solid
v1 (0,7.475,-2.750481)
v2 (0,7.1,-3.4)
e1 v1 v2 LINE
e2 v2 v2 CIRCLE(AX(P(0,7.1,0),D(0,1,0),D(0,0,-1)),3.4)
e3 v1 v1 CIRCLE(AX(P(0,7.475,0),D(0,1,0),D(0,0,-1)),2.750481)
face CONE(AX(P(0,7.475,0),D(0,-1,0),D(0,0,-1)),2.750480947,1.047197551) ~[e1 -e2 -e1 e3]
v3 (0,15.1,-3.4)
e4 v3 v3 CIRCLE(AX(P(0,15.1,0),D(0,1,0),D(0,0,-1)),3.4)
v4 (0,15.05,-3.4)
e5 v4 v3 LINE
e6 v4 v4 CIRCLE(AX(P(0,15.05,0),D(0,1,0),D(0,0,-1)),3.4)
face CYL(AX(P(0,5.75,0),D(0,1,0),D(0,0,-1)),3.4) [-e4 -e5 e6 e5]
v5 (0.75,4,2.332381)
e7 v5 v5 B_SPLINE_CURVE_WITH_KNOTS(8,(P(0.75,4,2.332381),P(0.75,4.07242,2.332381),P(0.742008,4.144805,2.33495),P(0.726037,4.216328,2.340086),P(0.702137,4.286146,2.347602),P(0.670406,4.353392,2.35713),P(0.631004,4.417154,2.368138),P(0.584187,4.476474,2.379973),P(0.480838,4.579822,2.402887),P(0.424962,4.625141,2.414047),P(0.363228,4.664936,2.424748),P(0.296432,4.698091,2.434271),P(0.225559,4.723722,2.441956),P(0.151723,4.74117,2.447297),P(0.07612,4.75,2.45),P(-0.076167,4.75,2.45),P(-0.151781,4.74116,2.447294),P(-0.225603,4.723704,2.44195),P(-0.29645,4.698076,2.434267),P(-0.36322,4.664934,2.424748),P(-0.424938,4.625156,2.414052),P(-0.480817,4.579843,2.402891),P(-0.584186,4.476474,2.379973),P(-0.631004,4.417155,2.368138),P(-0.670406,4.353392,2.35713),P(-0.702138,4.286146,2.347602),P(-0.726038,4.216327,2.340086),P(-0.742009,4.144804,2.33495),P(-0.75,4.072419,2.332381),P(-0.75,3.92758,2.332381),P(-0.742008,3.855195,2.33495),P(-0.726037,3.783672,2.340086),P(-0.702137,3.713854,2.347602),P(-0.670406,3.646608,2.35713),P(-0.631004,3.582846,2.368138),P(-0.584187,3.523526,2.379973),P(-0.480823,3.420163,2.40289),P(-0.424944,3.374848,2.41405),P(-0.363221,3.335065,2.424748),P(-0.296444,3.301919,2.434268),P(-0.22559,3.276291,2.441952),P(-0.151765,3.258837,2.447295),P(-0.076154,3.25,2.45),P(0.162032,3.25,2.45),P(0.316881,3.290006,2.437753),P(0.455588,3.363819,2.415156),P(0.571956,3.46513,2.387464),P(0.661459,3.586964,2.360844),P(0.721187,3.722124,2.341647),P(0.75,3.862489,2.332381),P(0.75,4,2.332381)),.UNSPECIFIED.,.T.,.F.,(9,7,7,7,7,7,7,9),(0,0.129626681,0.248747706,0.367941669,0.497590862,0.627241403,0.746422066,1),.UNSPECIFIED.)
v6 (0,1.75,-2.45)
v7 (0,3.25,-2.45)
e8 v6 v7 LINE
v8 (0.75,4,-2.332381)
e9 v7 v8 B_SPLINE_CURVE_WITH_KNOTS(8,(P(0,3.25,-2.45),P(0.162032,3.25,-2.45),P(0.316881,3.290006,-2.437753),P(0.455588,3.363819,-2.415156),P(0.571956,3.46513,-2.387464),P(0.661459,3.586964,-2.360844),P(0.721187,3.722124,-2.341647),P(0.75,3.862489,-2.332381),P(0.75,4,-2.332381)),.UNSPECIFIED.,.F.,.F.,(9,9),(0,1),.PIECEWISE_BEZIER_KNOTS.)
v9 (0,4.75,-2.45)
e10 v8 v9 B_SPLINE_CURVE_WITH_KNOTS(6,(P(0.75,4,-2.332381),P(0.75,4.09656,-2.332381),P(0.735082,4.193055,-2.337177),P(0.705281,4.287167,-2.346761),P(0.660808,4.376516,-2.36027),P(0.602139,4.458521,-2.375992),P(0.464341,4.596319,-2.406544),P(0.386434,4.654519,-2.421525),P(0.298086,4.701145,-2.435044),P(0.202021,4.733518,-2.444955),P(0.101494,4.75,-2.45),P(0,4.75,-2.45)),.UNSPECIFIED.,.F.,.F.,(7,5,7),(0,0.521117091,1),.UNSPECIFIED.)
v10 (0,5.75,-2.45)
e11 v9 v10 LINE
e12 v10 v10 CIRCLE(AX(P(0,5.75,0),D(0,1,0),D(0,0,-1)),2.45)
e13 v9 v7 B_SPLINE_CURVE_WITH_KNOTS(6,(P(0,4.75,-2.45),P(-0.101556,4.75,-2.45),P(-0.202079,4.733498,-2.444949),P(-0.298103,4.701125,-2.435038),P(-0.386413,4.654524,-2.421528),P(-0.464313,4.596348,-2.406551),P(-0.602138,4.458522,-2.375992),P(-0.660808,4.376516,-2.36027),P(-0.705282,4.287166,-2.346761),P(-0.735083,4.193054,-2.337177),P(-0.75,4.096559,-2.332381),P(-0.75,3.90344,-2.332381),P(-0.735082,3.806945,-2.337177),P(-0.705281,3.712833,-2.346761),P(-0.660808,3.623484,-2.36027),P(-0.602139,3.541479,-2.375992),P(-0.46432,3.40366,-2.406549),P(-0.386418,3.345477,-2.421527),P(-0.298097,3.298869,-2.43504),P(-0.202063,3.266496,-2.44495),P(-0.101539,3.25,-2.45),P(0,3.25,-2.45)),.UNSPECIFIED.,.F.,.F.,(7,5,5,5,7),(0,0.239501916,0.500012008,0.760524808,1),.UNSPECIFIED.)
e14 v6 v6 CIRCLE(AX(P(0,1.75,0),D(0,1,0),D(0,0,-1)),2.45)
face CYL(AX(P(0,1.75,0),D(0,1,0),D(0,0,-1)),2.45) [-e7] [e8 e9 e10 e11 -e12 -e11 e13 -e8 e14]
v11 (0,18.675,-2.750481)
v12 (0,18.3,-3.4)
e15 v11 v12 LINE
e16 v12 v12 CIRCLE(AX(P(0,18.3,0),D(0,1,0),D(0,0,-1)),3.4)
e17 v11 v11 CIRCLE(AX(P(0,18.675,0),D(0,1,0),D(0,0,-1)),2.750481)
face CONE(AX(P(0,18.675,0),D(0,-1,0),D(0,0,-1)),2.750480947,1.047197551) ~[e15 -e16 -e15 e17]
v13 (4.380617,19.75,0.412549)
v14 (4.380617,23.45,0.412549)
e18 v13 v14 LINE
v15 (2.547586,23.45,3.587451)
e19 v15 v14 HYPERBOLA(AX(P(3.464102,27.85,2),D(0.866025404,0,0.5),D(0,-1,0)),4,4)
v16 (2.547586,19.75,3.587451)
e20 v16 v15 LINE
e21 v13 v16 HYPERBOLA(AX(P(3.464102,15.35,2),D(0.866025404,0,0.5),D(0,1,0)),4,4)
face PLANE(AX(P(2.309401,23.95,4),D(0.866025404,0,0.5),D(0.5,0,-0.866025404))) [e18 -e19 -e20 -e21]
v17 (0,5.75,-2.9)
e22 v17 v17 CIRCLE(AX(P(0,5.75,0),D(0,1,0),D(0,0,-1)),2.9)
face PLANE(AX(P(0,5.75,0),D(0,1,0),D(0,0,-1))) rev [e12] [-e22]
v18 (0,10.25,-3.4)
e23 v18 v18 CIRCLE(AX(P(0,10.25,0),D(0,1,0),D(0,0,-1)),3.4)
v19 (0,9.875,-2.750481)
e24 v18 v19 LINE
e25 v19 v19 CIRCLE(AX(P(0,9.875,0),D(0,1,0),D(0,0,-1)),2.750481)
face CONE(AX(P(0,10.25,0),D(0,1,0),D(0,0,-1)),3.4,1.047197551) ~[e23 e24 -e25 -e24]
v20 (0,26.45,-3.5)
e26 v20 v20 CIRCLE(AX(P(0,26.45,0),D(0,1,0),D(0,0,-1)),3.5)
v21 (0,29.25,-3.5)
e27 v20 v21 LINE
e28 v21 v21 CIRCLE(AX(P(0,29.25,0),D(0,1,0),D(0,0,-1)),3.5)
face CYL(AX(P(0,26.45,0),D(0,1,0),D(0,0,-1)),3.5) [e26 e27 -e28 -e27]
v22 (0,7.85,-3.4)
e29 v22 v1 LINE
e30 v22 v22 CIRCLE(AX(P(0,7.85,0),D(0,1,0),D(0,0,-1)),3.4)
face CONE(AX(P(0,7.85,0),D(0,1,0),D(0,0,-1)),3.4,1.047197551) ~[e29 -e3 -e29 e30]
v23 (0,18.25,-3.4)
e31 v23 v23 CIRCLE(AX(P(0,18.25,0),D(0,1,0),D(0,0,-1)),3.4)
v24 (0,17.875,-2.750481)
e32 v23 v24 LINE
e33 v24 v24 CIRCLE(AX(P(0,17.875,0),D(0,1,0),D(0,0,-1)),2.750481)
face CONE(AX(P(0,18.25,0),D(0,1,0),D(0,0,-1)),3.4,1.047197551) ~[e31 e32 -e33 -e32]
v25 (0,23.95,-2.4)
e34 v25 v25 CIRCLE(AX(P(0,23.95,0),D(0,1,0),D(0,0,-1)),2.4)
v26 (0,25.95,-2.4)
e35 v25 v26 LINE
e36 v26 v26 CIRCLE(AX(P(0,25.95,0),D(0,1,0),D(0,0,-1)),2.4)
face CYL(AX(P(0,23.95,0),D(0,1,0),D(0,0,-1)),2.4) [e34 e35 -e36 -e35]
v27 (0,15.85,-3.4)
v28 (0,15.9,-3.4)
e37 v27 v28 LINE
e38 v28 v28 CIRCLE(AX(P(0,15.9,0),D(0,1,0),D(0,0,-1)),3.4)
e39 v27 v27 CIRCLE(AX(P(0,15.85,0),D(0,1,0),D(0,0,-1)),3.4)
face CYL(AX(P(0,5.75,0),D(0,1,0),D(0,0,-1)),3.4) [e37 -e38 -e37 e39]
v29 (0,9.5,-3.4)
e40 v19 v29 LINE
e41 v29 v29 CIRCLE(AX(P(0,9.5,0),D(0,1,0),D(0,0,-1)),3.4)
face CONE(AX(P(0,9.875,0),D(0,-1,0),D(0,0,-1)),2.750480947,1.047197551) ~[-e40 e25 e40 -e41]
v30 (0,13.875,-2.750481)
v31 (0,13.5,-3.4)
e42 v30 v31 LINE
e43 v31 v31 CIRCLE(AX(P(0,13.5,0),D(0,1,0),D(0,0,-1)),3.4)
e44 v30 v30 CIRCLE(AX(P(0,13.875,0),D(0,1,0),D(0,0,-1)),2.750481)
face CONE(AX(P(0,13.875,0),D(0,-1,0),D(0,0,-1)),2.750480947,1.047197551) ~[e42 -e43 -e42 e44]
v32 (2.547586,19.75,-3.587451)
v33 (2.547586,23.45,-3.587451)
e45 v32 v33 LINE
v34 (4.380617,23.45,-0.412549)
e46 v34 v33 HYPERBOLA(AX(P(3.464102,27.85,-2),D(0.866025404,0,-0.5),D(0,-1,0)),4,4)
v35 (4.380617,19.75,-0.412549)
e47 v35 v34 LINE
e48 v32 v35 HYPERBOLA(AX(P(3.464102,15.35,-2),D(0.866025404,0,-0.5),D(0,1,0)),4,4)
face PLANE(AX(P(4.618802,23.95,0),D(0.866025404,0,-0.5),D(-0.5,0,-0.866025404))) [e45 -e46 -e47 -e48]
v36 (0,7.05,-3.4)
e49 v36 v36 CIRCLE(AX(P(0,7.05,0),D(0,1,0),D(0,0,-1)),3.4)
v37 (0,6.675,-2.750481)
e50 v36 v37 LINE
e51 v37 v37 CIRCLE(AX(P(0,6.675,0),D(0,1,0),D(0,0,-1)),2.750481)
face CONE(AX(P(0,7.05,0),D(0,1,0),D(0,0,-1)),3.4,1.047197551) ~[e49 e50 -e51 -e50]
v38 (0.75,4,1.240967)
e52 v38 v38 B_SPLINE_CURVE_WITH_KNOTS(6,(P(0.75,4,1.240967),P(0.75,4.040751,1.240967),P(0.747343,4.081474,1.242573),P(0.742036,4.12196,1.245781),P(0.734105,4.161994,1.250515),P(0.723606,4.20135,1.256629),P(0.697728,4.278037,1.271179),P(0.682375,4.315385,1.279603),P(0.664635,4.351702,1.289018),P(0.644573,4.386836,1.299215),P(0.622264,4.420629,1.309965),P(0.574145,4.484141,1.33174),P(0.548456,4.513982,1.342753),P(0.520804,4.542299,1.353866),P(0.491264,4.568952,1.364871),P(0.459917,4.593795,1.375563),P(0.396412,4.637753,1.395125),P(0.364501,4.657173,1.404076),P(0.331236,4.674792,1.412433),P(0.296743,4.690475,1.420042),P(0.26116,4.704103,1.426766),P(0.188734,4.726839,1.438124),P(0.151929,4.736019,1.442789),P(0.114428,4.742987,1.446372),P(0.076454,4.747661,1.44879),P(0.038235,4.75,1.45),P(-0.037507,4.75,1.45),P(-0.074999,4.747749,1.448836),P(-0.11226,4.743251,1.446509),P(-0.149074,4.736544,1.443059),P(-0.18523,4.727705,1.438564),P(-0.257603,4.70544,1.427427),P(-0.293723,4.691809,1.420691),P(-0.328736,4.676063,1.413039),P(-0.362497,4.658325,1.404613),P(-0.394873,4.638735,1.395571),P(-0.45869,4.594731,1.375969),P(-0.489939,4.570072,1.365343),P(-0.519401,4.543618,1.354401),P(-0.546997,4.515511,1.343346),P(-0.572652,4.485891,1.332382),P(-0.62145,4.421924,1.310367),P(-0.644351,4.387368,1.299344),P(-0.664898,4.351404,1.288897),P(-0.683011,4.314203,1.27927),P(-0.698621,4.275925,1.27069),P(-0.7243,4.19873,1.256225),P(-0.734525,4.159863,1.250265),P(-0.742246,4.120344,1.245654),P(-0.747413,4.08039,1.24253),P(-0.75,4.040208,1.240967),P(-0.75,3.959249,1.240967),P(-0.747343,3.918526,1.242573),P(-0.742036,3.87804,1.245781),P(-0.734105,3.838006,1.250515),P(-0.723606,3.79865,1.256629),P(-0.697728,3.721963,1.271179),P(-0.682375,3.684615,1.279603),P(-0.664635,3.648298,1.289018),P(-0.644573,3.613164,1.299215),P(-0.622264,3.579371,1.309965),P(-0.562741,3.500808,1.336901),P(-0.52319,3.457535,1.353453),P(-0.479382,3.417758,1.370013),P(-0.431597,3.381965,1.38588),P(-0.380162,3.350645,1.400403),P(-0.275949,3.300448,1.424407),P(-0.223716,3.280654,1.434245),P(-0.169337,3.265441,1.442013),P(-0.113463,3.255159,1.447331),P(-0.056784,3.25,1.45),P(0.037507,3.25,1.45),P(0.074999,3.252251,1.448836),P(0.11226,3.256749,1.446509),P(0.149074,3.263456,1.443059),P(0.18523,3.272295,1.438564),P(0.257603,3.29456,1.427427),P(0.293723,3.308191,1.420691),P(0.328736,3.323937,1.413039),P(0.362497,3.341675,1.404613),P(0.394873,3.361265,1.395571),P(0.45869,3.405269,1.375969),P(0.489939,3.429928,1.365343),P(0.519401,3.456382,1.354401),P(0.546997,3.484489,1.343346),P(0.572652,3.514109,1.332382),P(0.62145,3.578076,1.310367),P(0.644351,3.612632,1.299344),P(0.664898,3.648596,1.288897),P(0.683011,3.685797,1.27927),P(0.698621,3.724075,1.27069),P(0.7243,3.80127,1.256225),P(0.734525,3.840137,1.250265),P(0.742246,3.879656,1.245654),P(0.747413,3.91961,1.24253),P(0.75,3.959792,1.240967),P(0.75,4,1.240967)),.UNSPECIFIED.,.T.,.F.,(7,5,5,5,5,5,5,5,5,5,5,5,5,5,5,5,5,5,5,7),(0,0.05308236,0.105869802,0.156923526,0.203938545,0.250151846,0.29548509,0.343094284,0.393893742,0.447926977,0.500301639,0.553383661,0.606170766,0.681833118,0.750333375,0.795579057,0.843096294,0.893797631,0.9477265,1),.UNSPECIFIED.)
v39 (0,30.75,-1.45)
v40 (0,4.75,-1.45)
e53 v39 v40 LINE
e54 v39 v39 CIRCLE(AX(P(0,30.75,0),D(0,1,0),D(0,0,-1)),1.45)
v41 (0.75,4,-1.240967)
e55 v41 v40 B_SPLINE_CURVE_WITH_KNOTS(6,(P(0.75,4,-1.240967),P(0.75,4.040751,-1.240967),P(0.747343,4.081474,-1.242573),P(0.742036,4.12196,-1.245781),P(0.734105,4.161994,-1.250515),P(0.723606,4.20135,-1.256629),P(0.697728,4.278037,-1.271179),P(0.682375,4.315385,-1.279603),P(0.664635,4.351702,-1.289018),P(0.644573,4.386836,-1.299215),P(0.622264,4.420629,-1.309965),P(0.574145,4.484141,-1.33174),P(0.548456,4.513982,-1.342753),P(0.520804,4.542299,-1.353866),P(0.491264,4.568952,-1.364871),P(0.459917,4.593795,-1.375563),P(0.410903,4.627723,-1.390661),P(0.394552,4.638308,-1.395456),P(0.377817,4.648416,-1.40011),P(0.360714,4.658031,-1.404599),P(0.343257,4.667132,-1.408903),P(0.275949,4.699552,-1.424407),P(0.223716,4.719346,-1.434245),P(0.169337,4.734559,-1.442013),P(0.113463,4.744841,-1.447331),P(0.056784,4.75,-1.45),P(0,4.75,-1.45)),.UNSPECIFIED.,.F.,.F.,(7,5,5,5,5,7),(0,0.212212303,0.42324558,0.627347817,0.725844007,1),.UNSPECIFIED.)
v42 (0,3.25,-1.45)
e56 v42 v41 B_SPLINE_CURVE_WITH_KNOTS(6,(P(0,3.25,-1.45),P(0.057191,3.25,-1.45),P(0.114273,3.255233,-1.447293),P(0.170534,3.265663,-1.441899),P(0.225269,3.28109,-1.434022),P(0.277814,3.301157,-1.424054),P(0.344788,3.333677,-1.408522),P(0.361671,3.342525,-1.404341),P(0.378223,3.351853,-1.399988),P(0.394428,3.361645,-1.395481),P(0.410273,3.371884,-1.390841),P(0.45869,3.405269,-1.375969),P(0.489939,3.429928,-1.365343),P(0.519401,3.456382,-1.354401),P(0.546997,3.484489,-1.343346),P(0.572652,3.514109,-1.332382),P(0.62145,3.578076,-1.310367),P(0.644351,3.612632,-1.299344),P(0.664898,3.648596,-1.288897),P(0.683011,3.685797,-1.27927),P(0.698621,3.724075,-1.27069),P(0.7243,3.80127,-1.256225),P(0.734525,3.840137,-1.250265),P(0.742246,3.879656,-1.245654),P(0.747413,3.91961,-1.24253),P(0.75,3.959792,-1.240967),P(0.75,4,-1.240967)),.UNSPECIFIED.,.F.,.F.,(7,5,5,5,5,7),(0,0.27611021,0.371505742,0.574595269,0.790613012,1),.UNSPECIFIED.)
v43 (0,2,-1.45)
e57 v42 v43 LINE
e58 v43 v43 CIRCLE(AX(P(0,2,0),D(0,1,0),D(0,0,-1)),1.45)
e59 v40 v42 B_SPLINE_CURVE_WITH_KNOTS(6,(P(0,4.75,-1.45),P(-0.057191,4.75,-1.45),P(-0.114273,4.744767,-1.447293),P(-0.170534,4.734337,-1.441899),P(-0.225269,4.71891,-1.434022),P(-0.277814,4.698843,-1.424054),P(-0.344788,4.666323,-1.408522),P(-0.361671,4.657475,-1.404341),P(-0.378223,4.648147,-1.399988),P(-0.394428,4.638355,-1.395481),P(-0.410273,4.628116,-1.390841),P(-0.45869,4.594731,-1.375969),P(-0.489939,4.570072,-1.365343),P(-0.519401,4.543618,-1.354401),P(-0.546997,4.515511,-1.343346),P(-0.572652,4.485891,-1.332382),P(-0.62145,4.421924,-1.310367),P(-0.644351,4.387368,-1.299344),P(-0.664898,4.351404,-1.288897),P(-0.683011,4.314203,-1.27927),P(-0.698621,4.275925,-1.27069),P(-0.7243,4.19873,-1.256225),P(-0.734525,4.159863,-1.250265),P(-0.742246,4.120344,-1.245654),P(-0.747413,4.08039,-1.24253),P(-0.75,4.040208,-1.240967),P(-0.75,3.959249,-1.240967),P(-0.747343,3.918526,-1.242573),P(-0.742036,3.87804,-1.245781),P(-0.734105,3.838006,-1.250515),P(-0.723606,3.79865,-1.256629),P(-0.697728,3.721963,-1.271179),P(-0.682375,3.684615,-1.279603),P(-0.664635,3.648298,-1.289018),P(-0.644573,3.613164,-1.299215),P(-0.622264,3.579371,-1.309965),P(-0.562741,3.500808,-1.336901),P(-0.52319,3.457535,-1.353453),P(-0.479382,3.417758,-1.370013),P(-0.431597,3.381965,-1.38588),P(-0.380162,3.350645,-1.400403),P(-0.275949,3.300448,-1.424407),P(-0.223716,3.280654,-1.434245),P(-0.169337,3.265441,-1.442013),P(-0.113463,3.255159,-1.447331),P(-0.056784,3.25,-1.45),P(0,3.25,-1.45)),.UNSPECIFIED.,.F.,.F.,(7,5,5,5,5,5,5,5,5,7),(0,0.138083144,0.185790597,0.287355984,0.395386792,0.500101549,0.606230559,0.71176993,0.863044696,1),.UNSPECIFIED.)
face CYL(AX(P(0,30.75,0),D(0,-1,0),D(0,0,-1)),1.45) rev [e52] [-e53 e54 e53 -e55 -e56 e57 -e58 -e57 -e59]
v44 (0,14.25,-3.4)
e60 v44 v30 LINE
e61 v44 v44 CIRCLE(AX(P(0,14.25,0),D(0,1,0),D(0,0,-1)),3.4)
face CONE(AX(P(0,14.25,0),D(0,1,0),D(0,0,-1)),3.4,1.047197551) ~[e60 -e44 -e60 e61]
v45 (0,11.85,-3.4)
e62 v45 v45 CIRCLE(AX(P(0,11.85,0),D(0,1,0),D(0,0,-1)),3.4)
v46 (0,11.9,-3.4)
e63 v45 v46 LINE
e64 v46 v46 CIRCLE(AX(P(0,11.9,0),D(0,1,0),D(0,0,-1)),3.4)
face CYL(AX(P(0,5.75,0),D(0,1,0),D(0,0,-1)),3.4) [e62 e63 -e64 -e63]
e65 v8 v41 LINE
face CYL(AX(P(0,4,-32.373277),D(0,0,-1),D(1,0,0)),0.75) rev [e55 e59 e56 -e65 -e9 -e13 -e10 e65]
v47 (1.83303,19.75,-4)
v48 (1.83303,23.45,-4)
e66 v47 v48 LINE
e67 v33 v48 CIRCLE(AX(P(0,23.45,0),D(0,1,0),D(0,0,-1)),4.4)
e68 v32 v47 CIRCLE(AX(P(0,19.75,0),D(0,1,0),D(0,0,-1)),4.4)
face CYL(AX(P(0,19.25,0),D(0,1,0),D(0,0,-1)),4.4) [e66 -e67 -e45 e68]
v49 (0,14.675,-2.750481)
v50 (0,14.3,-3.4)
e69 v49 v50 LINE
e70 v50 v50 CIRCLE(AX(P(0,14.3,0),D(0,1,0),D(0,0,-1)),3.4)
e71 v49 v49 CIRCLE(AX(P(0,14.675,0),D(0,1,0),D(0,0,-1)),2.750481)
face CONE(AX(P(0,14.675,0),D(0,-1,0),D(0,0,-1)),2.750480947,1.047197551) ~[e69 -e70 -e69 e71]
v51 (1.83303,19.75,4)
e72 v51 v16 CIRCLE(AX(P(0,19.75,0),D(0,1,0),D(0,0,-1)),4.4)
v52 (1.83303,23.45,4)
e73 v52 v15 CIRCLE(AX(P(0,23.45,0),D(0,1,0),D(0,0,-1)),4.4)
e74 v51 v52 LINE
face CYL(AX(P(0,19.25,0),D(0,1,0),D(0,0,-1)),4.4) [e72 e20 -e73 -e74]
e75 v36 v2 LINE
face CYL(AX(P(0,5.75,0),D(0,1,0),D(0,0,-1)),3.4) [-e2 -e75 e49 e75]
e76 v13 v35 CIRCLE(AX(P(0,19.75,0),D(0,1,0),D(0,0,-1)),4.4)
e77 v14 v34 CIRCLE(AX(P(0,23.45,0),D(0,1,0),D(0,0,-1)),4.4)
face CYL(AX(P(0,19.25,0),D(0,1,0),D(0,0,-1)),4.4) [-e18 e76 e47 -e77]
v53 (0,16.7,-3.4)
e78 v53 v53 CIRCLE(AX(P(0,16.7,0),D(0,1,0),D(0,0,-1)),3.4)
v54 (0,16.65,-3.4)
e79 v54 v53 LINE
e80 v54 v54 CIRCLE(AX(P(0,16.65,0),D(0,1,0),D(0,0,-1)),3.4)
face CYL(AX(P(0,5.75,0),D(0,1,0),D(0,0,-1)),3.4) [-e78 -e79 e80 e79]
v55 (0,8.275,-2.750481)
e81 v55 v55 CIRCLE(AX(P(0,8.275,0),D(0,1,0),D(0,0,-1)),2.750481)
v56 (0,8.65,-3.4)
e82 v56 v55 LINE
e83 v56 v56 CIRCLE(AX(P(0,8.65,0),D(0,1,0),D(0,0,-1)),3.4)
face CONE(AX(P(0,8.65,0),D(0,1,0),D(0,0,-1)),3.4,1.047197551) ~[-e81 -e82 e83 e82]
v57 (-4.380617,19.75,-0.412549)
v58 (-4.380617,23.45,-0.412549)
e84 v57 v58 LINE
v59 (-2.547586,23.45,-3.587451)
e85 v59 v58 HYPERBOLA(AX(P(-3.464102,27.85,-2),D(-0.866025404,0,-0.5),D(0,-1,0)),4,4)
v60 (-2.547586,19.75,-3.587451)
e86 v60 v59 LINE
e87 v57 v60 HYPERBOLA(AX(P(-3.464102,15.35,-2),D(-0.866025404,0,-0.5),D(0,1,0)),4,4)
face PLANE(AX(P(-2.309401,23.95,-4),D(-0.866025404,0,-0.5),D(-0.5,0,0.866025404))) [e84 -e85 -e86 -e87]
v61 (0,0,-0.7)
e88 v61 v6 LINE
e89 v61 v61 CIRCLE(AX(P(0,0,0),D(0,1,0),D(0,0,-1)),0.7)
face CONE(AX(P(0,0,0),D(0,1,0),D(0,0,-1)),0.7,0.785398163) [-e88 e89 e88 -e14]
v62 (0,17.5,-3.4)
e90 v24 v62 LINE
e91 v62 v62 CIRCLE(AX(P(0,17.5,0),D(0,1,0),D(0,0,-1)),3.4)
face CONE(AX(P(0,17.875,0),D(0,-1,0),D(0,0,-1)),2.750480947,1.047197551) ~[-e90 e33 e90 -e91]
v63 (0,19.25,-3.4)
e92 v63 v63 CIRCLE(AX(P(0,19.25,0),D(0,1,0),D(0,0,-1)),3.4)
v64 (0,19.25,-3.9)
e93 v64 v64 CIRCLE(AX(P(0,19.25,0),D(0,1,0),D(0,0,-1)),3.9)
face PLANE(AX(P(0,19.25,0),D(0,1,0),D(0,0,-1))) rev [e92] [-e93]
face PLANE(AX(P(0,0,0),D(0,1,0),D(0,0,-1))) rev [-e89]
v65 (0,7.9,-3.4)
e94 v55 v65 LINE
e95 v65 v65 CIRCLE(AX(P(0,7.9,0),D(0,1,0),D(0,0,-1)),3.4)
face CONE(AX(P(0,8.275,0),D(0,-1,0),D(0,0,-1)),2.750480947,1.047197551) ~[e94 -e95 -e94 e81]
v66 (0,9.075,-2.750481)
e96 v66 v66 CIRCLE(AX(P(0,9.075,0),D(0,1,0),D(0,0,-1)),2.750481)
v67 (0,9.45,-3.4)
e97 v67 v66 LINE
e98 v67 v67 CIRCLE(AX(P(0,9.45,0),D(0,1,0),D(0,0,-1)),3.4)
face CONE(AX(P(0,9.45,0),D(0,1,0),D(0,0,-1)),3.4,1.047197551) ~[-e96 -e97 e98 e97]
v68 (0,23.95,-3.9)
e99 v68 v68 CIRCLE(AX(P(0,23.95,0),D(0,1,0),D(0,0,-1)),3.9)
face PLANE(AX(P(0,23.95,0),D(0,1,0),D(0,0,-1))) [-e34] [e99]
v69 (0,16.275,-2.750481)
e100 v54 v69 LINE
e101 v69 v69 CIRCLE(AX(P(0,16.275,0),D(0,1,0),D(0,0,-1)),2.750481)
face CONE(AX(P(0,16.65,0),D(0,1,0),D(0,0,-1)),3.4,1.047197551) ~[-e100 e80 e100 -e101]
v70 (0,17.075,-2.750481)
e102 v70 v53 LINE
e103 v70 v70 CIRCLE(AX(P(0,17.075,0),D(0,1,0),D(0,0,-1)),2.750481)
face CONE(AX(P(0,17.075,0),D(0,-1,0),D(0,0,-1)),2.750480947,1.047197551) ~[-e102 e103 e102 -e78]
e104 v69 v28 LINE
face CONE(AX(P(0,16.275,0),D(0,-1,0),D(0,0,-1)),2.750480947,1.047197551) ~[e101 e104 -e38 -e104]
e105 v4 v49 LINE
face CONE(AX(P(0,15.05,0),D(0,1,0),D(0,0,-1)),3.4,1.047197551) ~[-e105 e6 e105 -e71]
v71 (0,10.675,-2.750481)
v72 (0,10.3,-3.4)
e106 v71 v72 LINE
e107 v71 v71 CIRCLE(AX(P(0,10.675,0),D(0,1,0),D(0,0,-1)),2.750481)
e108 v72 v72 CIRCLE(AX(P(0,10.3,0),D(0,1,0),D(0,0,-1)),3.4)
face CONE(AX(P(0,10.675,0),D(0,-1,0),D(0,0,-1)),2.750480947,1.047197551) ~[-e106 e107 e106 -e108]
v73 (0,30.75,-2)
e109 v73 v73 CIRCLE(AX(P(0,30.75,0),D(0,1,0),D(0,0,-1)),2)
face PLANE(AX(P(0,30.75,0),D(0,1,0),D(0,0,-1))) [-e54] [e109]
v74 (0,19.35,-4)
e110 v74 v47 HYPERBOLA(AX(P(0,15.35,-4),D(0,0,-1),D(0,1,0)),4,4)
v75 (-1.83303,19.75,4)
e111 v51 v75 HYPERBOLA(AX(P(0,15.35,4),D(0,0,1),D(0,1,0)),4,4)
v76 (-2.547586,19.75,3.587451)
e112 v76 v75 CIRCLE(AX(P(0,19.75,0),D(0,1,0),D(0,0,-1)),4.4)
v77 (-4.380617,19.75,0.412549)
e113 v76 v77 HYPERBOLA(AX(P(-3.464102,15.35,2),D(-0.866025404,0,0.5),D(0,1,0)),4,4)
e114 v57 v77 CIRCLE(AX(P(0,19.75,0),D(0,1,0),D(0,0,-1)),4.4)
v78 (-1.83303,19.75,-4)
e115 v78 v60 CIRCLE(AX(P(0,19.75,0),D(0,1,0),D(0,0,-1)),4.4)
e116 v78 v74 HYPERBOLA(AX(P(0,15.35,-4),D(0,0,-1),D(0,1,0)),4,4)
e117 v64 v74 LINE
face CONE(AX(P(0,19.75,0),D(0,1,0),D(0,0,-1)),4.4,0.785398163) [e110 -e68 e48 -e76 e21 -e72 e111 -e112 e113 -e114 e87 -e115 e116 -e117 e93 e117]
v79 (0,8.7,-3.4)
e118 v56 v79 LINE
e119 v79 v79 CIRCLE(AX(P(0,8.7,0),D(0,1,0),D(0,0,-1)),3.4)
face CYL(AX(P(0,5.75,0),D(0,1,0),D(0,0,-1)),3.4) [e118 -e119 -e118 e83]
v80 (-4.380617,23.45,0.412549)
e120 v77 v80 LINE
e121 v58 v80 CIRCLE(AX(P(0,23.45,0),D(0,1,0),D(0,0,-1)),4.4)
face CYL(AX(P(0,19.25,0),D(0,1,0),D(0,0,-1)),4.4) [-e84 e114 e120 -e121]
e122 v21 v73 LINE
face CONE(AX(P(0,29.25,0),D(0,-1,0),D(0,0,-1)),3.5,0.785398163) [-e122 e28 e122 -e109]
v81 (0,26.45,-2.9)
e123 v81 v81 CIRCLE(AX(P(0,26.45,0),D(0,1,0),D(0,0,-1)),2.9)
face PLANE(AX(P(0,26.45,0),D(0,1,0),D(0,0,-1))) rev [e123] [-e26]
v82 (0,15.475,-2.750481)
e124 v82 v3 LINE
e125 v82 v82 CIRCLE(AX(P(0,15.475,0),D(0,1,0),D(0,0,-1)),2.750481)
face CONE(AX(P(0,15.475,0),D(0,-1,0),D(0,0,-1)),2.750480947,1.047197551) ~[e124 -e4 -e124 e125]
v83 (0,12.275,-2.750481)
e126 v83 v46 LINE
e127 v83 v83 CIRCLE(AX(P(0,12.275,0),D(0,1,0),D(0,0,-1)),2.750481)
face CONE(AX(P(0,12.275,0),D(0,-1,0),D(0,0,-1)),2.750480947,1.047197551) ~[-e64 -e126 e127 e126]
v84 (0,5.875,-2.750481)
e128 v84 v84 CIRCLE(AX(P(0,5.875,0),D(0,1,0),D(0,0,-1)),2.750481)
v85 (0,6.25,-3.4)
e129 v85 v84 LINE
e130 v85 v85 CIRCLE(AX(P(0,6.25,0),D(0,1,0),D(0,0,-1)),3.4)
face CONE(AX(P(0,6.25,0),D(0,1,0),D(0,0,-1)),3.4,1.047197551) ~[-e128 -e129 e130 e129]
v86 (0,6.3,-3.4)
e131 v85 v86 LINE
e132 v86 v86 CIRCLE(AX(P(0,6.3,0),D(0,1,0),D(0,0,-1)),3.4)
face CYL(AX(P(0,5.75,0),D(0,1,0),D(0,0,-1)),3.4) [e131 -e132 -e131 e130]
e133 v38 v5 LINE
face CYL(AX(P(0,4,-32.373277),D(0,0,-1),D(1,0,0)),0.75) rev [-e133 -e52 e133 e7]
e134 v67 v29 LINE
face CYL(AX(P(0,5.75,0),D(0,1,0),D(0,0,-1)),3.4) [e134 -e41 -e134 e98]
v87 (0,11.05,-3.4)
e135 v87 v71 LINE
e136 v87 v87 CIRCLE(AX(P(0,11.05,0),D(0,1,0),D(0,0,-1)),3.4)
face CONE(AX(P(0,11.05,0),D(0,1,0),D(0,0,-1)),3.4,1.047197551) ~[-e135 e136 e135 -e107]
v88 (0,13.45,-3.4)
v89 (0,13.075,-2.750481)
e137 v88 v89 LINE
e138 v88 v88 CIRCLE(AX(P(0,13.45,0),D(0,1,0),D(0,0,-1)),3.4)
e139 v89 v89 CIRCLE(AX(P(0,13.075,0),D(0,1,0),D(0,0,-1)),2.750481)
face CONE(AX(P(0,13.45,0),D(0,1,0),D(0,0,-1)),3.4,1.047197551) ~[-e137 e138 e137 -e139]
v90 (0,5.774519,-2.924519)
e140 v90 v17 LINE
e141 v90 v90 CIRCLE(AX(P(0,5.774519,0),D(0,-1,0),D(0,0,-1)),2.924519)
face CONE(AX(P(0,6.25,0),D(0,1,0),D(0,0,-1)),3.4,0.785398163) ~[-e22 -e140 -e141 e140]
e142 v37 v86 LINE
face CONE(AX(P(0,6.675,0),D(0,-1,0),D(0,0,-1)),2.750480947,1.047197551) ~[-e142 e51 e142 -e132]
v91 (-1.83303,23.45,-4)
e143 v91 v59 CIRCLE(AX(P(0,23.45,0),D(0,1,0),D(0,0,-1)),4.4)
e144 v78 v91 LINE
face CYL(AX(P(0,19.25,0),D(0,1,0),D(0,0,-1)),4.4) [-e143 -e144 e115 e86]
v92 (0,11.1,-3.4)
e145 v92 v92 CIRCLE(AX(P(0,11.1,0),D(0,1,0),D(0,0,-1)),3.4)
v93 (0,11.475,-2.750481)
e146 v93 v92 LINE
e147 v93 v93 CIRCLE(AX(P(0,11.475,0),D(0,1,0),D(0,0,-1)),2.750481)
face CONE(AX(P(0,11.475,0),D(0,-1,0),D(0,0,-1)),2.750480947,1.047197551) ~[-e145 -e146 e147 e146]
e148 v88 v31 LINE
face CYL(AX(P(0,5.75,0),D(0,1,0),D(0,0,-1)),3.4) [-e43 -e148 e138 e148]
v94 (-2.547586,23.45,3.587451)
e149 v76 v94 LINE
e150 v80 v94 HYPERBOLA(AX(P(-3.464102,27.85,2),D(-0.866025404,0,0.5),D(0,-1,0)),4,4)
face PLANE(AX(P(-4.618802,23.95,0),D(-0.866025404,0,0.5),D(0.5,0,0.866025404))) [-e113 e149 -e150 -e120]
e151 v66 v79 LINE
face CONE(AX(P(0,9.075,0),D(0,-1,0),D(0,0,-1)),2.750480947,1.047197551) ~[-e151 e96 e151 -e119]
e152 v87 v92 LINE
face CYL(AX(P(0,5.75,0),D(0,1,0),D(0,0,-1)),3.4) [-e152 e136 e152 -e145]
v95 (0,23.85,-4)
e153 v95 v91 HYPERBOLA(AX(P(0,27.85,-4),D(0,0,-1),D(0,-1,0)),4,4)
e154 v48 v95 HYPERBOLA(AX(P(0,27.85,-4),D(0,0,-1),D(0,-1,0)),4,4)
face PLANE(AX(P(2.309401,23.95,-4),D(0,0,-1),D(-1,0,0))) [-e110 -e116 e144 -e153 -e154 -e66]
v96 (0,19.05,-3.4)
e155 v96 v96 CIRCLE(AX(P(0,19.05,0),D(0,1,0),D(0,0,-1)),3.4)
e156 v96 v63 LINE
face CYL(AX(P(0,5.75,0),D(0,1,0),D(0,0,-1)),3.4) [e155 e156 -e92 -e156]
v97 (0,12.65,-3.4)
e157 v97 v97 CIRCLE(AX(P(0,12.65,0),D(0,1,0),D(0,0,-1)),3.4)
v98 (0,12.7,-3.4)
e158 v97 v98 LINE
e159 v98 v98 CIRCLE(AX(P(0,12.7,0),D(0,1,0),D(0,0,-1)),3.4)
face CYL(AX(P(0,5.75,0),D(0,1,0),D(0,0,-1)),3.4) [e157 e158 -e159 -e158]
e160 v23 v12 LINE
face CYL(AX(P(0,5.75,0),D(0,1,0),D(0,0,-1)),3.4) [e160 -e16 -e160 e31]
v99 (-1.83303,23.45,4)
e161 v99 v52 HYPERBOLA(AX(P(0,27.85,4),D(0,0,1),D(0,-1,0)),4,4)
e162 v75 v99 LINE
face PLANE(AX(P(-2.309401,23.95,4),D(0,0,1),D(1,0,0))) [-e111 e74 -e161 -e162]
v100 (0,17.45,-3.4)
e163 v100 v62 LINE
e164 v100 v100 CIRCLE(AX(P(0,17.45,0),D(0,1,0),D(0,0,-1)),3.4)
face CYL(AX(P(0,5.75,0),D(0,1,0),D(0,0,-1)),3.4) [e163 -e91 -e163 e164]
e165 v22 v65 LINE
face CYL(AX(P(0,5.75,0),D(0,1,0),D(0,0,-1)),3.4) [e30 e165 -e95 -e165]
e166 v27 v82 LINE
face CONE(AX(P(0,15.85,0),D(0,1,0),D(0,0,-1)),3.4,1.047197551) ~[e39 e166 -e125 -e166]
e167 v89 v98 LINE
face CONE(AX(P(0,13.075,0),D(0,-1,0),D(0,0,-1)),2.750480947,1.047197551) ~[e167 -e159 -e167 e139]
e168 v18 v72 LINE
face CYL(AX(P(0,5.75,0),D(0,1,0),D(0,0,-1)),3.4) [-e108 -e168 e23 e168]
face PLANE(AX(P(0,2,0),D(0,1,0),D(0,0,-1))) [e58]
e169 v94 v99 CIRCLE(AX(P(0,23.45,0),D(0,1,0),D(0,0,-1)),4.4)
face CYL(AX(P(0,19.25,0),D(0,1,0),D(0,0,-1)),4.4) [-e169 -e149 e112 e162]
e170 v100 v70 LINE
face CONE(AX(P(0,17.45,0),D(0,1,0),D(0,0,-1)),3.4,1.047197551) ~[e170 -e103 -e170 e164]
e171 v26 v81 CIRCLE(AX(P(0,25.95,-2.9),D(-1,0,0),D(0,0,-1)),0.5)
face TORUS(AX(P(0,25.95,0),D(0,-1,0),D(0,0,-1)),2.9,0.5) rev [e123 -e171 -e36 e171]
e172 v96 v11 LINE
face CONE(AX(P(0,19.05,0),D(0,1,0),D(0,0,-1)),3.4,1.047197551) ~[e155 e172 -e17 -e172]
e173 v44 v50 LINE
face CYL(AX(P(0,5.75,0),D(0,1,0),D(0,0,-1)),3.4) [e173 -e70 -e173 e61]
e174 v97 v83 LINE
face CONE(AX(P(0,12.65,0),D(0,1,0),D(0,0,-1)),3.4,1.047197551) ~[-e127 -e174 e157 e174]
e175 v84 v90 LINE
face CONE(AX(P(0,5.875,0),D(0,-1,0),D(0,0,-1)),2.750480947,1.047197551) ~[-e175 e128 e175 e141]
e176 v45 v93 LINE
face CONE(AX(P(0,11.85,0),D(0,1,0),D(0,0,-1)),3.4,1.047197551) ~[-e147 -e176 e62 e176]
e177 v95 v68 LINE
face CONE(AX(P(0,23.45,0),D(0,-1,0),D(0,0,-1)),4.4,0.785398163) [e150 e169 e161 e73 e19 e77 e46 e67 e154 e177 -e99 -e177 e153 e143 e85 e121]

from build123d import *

# Parameters (mm, degrees)
CHAMFER1_SIZE           = 0.5
FILLET1_R               = 0.5
CUT_EXTRUDE1_DEPTH      = 32.373276845
CUT_EXTRUDE1_DEPTH_BACK = 32.373276845
SKETCH2_R               = 0.75
SKETCH3_OUTSIDE_W       = 17.434
SKETCH3_OUTSIDE_H       = 17.434
CUT_EXTRUDE2_DEPTH      = 5
CHAMFER2_SIZE           = 0.5


with BuildPart() as part:
    # Sketch1 → Revolve1 (revolve)
    with BuildSketch(Plane.XY, mode=Mode.PRIVATE) as revolve1_sk:
        Polygon((0, 0), (-0.7, 0), (-2.45, 1.75), (-2.45, 5.75), (-3.4, 5.75), (-3.4, 19.25), (-4.4, 19.25), (-4.4, 23.95), (-2.4, 23.95), (-2.4, 26.45), (-3.5, 26.45), (-3.5, 29.25), (-2, 30.75), (-1.45, 30.75), (-1.45, 2), (0, 2), align=None)
    revolve(revolve1_sk.sketch.rotate(Axis((0, 1.982963205, 0), (0, 1, 0)), 270), axis=Axis((0, 1.982963205, 0), (0, 1, 0)))

    # Chamfer1
    chamfer1_edges = [part.edges().sort_by_distance(p)[0] for p in [
        (0, 23.95, 4.4),
        (0, 19.25, 4.4),
    ]]
    chamfer(chamfer1_edges, length=CHAMFER1_SIZE)

    # Fillet1
    fillet1_edges = [part.edges().sort_by_distance(p)[0] for p in [
        (0, 26.45, 2.4),
    ]]
    fillet(fillet1_edges, radius=FILLET1_R)

    # Sketch2 → Cut-Extrude1 (cut, two sides: drawn at the far end of the back side and taken through both)
    with BuildSketch(Plane.XY.offset(-CUT_EXTRUDE1_DEPTH_BACK)):
        with Locations((0, 4)):
            Circle(SKETCH2_R)
    extrude(amount=CUT_EXTRUDE1_DEPTH + CUT_EXTRUDE1_DEPTH_BACK, mode=Mode.SUBTRACT)

    # Sketch3 outside → Cut-Extrude2 (cut)
    with BuildSketch(Plane(origin=(0, 23.95, 0), x_dir=(1, 0, 0), z_dir=(0, 1, 0))):
        Rectangle(SKETCH3_OUTSIDE_W, SKETCH3_OUTSIDE_H)
        Polygon((4.618802154, 0), (2.309401077, 4), (-2.309401077, 4), (-4.618802154, 0), (-2.309401077, -4), (2.309401077, -4), align=None, mode=Mode.SUBTRACT)
    extrude(amount=-CUT_EXTRUDE2_DEPTH, mode=Mode.SUBTRACT)

    # Chamfer2
    chamfer2_edges = [part.edges().sort_by_distance(p)[0] for p in [
        (0, 5.75, 3.4),
    ]]
    chamfer(chamfer2_edges, length=CHAMFER2_SIZE)

    # Sketch4 → Cut-Revolve1 (revolve, cut)
    with BuildSketch(Plane.XY, mode=Mode.PRIVATE) as cut_revolve1_sk:
        Polygon((3.4, 5.5), (3.4, 6.25), (2.750480947, 5.875), align=None)
        Polygon((3.4, 7.05), (2.750480947, 6.675), (3.4, 6.3), align=None)
        Polygon((3.4, 7.85), (2.750480947, 7.475), (3.4, 7.1), align=None)
        Polygon((3.4, 8.65), (2.750480947, 8.275), (3.4, 7.9), align=None)
        Polygon((3.4, 9.45), (2.750480947, 9.075), (3.4, 8.7), align=None)
        Polygon((3.4, 10.25), (2.750480947, 9.875), (3.4, 9.5), align=None)
        Polygon((3.4, 11.05), (2.750480947, 10.675), (3.4, 10.3), align=None)
        Polygon((3.4, 11.85), (2.750480947, 11.475), (3.4, 11.1), align=None)
        Polygon((3.4, 12.65), (2.750480947, 12.275), (3.4, 11.9), align=None)
        Polygon((3.4, 13.45), (2.750480947, 13.075), (3.4, 12.7), align=None)
        Polygon((3.4, 14.25), (2.750480947, 13.875), (3.4, 13.5), align=None)
        Polygon((3.4, 15.05), (2.750480947, 14.675), (3.4, 14.3), align=None)
        Polygon((3.4, 15.85), (2.750480947, 15.475), (3.4, 15.1), align=None)
        Polygon((3.4, 16.65), (2.750480947, 16.275), (3.4, 15.9), align=None)
        Polygon((3.4, 17.45), (2.750480947, 17.075), (3.4, 16.7), align=None)
        Polygon((3.4, 18.25), (2.750480947, 17.875), (3.4, 17.5), align=None)
        Polygon((3.4, 19.05), (2.750480947, 18.675), (3.4, 18.3), align=None)
    revolve(cut_revolve1_sk.sketch.rotate(Axis((0, 0, 0), (0, 1, 0)), 90), axis=Axis((0, 0, 0), (0, 1, 0)), mode=Mode.SUBTRACT)


solid = part.part
